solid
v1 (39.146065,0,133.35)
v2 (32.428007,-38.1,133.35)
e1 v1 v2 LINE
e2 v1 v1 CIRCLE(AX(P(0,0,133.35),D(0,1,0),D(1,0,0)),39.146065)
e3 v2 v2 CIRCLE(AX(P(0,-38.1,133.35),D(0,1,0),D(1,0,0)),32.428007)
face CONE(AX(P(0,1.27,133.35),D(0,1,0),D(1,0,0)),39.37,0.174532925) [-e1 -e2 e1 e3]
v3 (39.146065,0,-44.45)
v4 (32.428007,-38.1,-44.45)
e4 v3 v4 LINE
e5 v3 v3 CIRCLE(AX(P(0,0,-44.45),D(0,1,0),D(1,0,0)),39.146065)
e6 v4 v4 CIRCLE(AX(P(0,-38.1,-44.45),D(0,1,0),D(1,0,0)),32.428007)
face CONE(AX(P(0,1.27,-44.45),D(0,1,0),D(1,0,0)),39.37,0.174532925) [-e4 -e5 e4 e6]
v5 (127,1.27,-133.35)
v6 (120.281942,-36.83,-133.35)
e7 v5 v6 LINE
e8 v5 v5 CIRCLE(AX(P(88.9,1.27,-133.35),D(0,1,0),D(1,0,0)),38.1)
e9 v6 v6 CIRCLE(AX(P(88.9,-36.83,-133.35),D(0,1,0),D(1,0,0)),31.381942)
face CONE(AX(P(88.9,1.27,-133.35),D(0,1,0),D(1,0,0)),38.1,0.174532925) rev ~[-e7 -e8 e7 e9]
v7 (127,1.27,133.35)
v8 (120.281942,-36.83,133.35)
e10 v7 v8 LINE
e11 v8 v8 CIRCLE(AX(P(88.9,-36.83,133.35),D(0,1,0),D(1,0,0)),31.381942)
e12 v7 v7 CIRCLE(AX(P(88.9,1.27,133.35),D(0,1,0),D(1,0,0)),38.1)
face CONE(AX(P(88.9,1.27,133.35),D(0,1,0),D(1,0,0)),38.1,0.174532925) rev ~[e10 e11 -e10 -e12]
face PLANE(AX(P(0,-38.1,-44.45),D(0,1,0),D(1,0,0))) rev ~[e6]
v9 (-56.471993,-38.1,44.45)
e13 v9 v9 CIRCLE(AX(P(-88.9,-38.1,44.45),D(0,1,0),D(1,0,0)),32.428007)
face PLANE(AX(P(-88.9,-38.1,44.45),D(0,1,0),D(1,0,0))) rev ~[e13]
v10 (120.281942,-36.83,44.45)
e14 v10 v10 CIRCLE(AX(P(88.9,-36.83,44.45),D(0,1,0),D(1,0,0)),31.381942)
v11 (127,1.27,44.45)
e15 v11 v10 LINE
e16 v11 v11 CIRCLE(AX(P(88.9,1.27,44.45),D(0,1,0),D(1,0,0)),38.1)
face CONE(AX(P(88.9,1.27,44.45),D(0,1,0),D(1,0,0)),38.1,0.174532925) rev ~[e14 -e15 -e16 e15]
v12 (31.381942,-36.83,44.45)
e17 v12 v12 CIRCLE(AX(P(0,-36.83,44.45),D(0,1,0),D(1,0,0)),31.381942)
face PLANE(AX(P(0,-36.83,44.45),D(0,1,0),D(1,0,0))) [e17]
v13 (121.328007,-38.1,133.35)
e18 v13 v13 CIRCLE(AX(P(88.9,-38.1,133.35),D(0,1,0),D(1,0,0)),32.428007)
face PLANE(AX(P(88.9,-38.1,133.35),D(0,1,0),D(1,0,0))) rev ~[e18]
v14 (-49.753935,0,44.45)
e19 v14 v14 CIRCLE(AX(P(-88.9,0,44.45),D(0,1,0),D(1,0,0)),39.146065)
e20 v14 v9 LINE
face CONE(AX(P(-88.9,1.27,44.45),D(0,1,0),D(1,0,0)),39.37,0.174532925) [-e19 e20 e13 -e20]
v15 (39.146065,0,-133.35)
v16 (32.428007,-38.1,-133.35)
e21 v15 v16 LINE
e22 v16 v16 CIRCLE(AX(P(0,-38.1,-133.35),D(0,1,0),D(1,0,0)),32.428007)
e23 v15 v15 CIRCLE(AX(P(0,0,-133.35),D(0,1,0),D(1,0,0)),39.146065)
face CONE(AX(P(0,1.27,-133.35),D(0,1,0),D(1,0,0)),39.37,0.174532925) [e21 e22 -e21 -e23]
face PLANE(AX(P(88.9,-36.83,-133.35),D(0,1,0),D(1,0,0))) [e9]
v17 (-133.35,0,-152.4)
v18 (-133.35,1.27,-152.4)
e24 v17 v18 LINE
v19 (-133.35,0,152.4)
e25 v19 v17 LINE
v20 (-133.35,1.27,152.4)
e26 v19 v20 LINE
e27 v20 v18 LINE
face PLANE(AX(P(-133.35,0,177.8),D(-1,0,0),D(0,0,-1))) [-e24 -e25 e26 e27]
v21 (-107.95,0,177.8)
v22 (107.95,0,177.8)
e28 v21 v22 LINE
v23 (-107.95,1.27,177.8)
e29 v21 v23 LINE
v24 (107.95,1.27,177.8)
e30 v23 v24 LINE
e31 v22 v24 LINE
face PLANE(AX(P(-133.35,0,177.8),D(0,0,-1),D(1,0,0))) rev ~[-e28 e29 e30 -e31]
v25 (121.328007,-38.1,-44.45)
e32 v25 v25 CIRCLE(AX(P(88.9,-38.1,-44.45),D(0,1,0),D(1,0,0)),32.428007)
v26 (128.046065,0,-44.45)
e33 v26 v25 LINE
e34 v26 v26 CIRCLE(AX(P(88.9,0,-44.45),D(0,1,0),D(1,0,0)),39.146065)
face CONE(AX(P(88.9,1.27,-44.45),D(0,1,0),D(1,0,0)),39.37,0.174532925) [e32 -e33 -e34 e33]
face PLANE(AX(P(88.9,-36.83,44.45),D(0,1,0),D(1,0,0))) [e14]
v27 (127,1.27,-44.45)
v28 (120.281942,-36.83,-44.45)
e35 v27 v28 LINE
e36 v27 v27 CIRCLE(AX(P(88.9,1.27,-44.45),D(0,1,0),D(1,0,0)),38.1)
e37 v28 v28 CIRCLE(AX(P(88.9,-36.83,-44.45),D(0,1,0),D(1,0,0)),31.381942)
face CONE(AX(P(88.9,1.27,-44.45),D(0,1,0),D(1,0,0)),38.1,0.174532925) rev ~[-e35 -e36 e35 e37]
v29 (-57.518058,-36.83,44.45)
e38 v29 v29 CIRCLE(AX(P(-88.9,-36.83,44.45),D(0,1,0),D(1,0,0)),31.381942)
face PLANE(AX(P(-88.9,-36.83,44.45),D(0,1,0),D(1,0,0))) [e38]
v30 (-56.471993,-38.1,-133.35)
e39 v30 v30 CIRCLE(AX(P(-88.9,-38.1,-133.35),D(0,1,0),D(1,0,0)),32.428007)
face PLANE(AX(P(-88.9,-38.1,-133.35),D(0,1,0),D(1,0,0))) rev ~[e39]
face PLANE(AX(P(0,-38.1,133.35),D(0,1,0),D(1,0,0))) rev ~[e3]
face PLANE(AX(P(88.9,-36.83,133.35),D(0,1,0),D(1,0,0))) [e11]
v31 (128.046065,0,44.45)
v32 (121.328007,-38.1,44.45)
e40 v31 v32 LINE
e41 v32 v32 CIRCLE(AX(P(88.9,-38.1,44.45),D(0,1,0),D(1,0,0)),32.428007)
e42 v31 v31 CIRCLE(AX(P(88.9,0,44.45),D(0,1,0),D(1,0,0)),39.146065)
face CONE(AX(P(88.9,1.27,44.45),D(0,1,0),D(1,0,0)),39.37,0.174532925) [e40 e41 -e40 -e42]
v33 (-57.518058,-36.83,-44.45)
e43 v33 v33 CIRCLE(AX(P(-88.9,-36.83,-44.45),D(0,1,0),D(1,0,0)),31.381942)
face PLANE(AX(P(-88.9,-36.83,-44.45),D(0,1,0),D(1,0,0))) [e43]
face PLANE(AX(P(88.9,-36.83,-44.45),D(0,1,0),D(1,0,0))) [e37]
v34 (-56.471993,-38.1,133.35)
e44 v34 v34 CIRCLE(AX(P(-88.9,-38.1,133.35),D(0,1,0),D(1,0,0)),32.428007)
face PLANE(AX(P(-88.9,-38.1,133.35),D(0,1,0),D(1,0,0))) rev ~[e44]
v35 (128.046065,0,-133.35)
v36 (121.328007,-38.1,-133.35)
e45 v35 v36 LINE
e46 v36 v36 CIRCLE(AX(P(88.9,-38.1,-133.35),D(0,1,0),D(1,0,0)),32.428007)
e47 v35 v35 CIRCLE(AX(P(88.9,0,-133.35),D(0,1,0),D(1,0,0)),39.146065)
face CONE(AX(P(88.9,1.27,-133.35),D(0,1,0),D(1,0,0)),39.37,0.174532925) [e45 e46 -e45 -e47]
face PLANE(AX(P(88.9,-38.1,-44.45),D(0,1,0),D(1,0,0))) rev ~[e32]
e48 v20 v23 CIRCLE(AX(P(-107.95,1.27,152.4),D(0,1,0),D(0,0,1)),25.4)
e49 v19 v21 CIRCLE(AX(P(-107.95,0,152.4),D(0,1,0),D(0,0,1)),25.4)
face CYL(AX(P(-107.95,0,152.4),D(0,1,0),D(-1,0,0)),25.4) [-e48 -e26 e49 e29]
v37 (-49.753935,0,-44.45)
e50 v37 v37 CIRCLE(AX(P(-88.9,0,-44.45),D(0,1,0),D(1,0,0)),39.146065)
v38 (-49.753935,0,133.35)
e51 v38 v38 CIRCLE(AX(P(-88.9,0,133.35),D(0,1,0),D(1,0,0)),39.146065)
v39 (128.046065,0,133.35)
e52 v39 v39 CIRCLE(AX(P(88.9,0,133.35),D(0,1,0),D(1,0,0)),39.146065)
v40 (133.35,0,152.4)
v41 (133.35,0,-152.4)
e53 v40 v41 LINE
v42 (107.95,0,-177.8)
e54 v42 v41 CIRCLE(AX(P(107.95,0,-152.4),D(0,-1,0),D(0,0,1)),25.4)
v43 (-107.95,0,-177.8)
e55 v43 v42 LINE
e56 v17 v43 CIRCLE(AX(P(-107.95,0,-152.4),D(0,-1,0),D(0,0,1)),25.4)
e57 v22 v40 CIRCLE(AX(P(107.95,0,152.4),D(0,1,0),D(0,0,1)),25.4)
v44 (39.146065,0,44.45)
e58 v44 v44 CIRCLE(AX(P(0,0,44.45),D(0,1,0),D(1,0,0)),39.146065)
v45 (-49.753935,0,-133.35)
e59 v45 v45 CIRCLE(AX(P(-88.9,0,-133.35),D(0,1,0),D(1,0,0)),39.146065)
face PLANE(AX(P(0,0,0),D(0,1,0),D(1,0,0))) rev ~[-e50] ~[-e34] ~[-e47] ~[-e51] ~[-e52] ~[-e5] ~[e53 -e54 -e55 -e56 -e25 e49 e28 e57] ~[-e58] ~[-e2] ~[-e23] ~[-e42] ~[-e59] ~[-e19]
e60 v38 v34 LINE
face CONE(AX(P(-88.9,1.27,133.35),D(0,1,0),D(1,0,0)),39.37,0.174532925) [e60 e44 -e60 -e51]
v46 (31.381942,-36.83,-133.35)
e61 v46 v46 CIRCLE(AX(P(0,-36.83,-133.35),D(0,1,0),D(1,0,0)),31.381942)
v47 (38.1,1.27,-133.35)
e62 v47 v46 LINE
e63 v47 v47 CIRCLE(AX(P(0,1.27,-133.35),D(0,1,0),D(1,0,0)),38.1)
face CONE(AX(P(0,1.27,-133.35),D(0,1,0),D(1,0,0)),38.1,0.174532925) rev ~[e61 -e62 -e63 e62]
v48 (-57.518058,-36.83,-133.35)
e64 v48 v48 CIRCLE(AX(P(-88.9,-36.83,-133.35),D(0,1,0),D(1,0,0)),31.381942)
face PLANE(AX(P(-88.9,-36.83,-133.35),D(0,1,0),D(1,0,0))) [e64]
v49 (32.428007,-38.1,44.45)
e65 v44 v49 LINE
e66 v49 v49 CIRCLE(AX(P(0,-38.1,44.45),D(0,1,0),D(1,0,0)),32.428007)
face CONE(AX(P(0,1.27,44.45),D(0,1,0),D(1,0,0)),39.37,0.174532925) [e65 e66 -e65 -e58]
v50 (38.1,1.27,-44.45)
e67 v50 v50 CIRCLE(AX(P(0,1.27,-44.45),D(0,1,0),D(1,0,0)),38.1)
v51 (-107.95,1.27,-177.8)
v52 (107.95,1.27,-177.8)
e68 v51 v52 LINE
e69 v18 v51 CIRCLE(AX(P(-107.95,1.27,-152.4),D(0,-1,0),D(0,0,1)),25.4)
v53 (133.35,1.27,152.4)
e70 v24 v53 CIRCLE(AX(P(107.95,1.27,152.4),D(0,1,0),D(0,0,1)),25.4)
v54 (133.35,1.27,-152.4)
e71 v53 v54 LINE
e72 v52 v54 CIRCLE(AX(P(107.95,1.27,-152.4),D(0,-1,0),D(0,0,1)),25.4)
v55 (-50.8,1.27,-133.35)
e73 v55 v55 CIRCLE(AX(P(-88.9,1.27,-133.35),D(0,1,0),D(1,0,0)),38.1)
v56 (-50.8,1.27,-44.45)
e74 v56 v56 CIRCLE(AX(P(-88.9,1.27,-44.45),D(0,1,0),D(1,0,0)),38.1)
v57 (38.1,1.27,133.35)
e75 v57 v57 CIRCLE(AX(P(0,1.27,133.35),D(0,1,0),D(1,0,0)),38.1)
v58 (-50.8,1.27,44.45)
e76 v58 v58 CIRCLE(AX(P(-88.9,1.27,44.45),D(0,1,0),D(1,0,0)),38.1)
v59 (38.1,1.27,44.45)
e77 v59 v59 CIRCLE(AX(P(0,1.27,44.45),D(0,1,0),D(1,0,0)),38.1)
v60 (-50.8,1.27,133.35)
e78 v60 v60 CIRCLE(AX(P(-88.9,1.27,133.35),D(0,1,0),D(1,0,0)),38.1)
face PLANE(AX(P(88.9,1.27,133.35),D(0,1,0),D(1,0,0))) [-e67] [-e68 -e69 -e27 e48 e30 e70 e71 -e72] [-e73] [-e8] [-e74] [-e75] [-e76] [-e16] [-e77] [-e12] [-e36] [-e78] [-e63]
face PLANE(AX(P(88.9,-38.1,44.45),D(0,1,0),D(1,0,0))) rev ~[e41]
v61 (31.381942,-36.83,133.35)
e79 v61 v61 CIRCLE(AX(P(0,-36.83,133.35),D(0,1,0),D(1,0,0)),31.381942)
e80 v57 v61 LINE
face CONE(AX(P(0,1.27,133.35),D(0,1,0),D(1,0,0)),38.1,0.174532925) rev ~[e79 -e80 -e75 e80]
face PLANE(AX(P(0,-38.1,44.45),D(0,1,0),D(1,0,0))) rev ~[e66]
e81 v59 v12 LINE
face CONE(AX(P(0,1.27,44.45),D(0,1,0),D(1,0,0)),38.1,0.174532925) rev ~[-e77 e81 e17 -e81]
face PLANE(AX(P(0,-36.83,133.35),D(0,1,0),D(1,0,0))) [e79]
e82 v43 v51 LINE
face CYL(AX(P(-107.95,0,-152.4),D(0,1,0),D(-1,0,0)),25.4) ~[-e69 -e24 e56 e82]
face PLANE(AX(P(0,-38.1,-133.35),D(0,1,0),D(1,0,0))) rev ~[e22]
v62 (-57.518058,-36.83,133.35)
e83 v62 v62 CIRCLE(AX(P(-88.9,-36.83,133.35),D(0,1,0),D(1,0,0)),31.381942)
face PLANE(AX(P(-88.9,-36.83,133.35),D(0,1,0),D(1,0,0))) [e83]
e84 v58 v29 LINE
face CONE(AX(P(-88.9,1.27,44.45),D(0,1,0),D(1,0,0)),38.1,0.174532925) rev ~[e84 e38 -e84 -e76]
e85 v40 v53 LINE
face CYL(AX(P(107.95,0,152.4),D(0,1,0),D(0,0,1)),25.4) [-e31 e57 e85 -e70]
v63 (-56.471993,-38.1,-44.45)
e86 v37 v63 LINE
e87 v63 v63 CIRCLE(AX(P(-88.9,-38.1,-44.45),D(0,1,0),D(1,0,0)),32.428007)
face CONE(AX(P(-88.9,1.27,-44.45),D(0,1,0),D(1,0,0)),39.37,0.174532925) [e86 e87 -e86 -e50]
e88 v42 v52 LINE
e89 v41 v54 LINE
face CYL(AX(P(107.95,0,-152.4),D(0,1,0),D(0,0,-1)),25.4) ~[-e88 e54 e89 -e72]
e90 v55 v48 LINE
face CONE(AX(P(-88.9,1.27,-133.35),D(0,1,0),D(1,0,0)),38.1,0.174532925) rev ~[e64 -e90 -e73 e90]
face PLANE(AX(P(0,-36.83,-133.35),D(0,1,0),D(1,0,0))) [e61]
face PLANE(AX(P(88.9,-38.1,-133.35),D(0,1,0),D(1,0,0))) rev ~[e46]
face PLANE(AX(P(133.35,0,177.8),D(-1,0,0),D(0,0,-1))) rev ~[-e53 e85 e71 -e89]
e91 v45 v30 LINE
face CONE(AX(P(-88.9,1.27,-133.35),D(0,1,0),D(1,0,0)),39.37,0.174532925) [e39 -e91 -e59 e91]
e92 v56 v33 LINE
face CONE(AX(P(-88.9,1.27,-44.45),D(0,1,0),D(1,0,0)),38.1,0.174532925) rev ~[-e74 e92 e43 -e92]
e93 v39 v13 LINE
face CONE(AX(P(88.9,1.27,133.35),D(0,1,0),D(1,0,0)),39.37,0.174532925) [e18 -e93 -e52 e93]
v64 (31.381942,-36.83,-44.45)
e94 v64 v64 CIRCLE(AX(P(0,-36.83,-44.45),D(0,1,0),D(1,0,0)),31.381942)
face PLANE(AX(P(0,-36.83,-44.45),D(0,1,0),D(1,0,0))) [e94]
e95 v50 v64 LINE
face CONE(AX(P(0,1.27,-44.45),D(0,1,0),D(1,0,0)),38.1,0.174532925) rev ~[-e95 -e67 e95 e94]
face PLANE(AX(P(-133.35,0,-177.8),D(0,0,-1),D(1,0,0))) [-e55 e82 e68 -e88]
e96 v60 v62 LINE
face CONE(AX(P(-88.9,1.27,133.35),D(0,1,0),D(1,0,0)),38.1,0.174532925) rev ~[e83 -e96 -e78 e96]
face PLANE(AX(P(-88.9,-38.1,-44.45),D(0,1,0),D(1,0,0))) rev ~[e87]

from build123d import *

# Parameters (mm, degrees)
SKETCH1_W                  = 266.7
SKETCH1_H                  = 355.6
BOSS_EXTRUDE1_DEPTH        = 1.27
SKETCH2_R                  = 39.37
BOSS_EXTRUDE2_DEPTH        = 39.37
BOSS_EXTRUDE2_DRAFT        = -10
SKETCH3_R                  = 38.1
CUT_EXTRUDE1_DEPTH         = 38.1
CUT_EXTRUDE1_DRAFT         = -10
LPATTERN1_COPY_1_SKETCH_R  = 39.37
LPATTERN1_COPY_1_DEPTH     = 39.37
LPATTERN1_COPY_1_DRAFT     = -10
LPATTERN1_COPY_2_SKETCH_R  = 39.37
LPATTERN1_COPY_2_DEPTH     = 39.37
LPATTERN1_COPY_2_DRAFT     = -10
LPATTERN1_COPY_3_SKETCH_R  = 39.37
LPATTERN1_COPY_3_DEPTH     = 39.37
LPATTERN1_COPY_3_DRAFT     = -10
LPATTERN1_COPY_4_SKETCH_R  = 39.37
LPATTERN1_COPY_4_DEPTH     = 39.37
LPATTERN1_COPY_4_DRAFT     = -10
LPATTERN1_COPY_5_SKETCH_R  = 39.37
LPATTERN1_COPY_5_DEPTH     = 39.37
LPATTERN1_COPY_5_DRAFT     = -10
LPATTERN1_COPY_6_SKETCH_R  = 39.37
LPATTERN1_COPY_6_DEPTH     = 39.37
LPATTERN1_COPY_6_DRAFT     = -10
LPATTERN1_COPY_7_SKETCH_R  = 39.37
LPATTERN1_COPY_7_DEPTH     = 39.37
LPATTERN1_COPY_7_DRAFT     = -10
LPATTERN1_COPY_8_SKETCH_R  = 39.37
LPATTERN1_COPY_8_DEPTH     = 39.37
LPATTERN1_COPY_8_DRAFT     = -10
LPATTERN1_COPY_9_SKETCH_R  = 39.37
LPATTERN1_COPY_9_DEPTH     = 39.37
LPATTERN1_COPY_9_DRAFT     = -10
LPATTERN1_COPY_10_SKETCH_R = 39.37
LPATTERN1_COPY_10_DEPTH    = 39.37
LPATTERN1_COPY_10_DRAFT    = -10
LPATTERN1_COPY_11_SKETCH_R = 39.37
LPATTERN1_COPY_11_DEPTH    = 39.37
LPATTERN1_COPY_11_DRAFT    = -10
LPATTERN1_COPY_12_SKETCH_R = 38.1
LPATTERN1_COPY_12_DEPTH    = 38.1
LPATTERN1_COPY_12_DRAFT    = -10
LPATTERN1_COPY_13_SKETCH_R = 38.1
LPATTERN1_COPY_13_DEPTH    = 38.1
LPATTERN1_COPY_13_DRAFT    = -10
LPATTERN1_COPY_14_SKETCH_R = 38.1
LPATTERN1_COPY_14_DEPTH    = 38.1
LPATTERN1_COPY_14_DRAFT    = -10
LPATTERN1_COPY_15_SKETCH_R = 38.1
LPATTERN1_COPY_15_DEPTH    = 38.1
LPATTERN1_COPY_15_DRAFT    = -10
LPATTERN1_COPY_16_SKETCH_R = 38.1
LPATTERN1_COPY_16_DEPTH    = 38.1
LPATTERN1_COPY_16_DRAFT    = -10
LPATTERN1_COPY_17_SKETCH_R = 38.1
LPATTERN1_COPY_17_DEPTH    = 38.1
LPATTERN1_COPY_17_DRAFT    = -10
LPATTERN1_COPY_18_SKETCH_R = 38.1
LPATTERN1_COPY_18_DEPTH    = 38.1
LPATTERN1_COPY_18_DRAFT    = -10
LPATTERN1_COPY_19_SKETCH_R = 38.1
LPATTERN1_COPY_19_DEPTH    = 38.1
LPATTERN1_COPY_19_DRAFT    = -10
LPATTERN1_COPY_20_SKETCH_R = 38.1
LPATTERN1_COPY_20_DEPTH    = 38.1
LPATTERN1_COPY_20_DRAFT    = -10
LPATTERN1_COPY_21_SKETCH_R = 38.1
LPATTERN1_COPY_21_DEPTH    = 38.1
LPATTERN1_COPY_21_DRAFT    = -10
LPATTERN1_COPY_22_SKETCH_R = 38.1
LPATTERN1_COPY_22_DEPTH    = 38.1
LPATTERN1_COPY_22_DRAFT    = -10
FILLET1_R                  = 25.4


with BuildPart() as part:
    # Sketch1 → Boss-Extrude1 (new body)
    with BuildSketch(Plane(origin=(0, 0, 0), x_dir=(1, 0, 0), z_dir=(0, 1, 0))):
        Rectangle(SKETCH1_W, SKETCH1_H)
    extrude(amount=BOSS_EXTRUDE1_DEPTH)


with BuildPart() as boss_extrude2_tool:
    # Sketch2 → Boss-Extrude2 (with draft: the straight prism first)
    with BuildSketch(Plane(origin=(0, 1.27, 0), x_dir=(1, 0, 0), z_dir=(0, 1, 0))):
        with Locations((-88.9, 133.35)):
            Circle(SKETCH2_R)
    extrude(amount=-BOSS_EXTRUDE2_DEPTH)
    # Boss-Extrude2: the draft: its side faces are tilted about the plane it starts from
    boss_extrude2_sides = [boss_extrude2_tool.faces().sort_by_distance(p)[0] for p in [
        (-128.27, -18.415, -133.35),
    ]]
    draft(boss_extrude2_sides, Plane(origin=(0, 1.27, 0), x_dir=(1, 0, 0), z_dir=(0, 1, 0)), BOSS_EXTRUDE2_DRAFT)


with BuildPart() as part_1:
    add(part.part)

    # Boss-Extrude2: add boss_extrude2_tool
    add(boss_extrude2_tool.part)


with BuildPart() as cut_extrude1_tool:
    # Sketch3 → Cut-Extrude1 (with draft: the straight prism first)
    with BuildSketch(Plane(origin=(0, 1.27, 0), x_dir=(1, 0, 0), z_dir=(0, 1, 0))):
        with Locations((-88.9, 133.35)):
            Circle(SKETCH3_R)
    extrude(amount=-CUT_EXTRUDE1_DEPTH)
    # Cut-Extrude1: the draft: its side faces are tilted about the plane it starts from
    cut_extrude1_sides = [cut_extrude1_tool.faces().sort_by_distance(p)[0] for p in [
        (-127, -17.78, -133.35),
    ]]
    draft(cut_extrude1_sides, Plane(origin=(0, 1.27, 0), x_dir=(1, 0, 0), z_dir=(0, 1, 0)), CUT_EXTRUDE1_DRAFT)


with BuildPart() as part_2:
    add(part_1.part)

    # Cut-Extrude1: cut by cut_extrude1_tool
    add(cut_extrude1_tool.part, mode=Mode.SUBTRACT)


with BuildPart() as lpattern1_copy_1_tool:
    # LPattern1 copy 1 sketch → LPattern1 copy 1 (with draft: the straight prism first)
    with BuildSketch(Plane(origin=(0, 1.27, 88.9), x_dir=(1, 0, 0), z_dir=(0, 1, 0))):
        with Locations((-88.9, 133.35)):
            Circle(LPATTERN1_COPY_1_SKETCH_R)
    extrude(amount=-LPATTERN1_COPY_1_DEPTH)
    # LPattern1 copy 1: the draft: its side faces are tilted about the plane it starts from
    lpattern1_copy_1_sides = [lpattern1_copy_1_tool.faces().sort_by_distance(p)[0] for p in [
        (-128.27, -18.415, -44.45),
    ]]
    draft(lpattern1_copy_1_sides, Plane(origin=(0, 1.27, 88.9), x_dir=(1, 0, 0), z_dir=(0, 1, 0)), LPATTERN1_COPY_1_DRAFT)


with BuildPart() as part_3:
    add(part_2.part)

    # LPattern1 copy 1: add lpattern1_copy_1_tool
    add(lpattern1_copy_1_tool.part)


with BuildPart() as lpattern1_copy_2_tool:
    # LPattern1 copy 2 sketch → LPattern1 copy 2 (with draft: the straight prism first)
    with BuildSketch(Plane(origin=(0, 1.27, 177.8), x_dir=(1, 0, 0), z_dir=(0, 1, 0))):
        with Locations((-88.9, 133.35)):
            Circle(LPATTERN1_COPY_2_SKETCH_R)
    extrude(amount=-LPATTERN1_COPY_2_DEPTH)
    # LPattern1 copy 2: the draft: its side faces are tilted about the plane it starts from
    lpattern1_copy_2_sides = [lpattern1_copy_2_tool.faces().sort_by_distance(p)[0] for p in [
        (-128.27, -18.415, 44.45),
    ]]
    draft(lpattern1_copy_2_sides, Plane(origin=(0, 1.27, 177.8), x_dir=(1, 0, 0), z_dir=(0, 1, 0)), LPATTERN1_COPY_2_DRAFT)


with BuildPart() as part_4:
    add(part_3.part)

    # LPattern1 copy 2: add lpattern1_copy_2_tool
    add(lpattern1_copy_2_tool.part)


with BuildPart() as lpattern1_copy_3_tool:
    # LPattern1 copy 3 sketch → LPattern1 copy 3 (with draft: the straight prism first)
    with BuildSketch(Plane(origin=(0, 1.27, 266.7), x_dir=(1, 0, 0), z_dir=(0, 1, 0))):
        with Locations((-88.9, 133.35)):
            Circle(LPATTERN1_COPY_3_SKETCH_R)
    extrude(amount=-LPATTERN1_COPY_3_DEPTH)
    # LPattern1 copy 3: the draft: its side faces are tilted about the plane it starts from
    lpattern1_copy_3_sides = [lpattern1_copy_3_tool.faces().sort_by_distance(p)[0] for p in [
        (-128.27, -18.415, 133.35),
    ]]
    draft(lpattern1_copy_3_sides, Plane(origin=(0, 1.27, 266.7), x_dir=(1, 0, 0), z_dir=(0, 1, 0)), LPATTERN1_COPY_3_DRAFT)


with BuildPart() as part_5:
    add(part_4.part)

    # LPattern1 copy 3: add lpattern1_copy_3_tool
    add(lpattern1_copy_3_tool.part)


with BuildPart() as lpattern1_copy_4_tool:
    # LPattern1 copy 4 sketch → LPattern1 copy 4 (with draft: the straight prism first)
    with BuildSketch(Plane(origin=(88.9, 1.27, 0), x_dir=(1, 0, 0), z_dir=(0, 1, 0))):
        with Locations((-88.9, 133.35)):
            Circle(LPATTERN1_COPY_4_SKETCH_R)
    extrude(amount=-LPATTERN1_COPY_4_DEPTH)
    # LPattern1 copy 4: the draft: its side faces are tilted about the plane it starts from
    lpattern1_copy_4_sides = [lpattern1_copy_4_tool.faces().sort_by_distance(p)[0] for p in [
        (-39.37, -18.415, -133.35),
    ]]
    draft(lpattern1_copy_4_sides, Plane(origin=(88.9, 1.27, 0), x_dir=(1, 0, 0), z_dir=(0, 1, 0)), LPATTERN1_COPY_4_DRAFT)


with BuildPart() as part_6:
    add(part_5.part)

    # LPattern1 copy 4: add lpattern1_copy_4_tool
    add(lpattern1_copy_4_tool.part)


with BuildPart() as lpattern1_copy_5_tool:
    # LPattern1 copy 5 sketch → LPattern1 copy 5 (with draft: the straight prism first)
    with BuildSketch(Plane(origin=(88.9, 1.27, 88.9), x_dir=(1, 0, 0), z_dir=(0, 1, 0))):
        with Locations((-88.9, 133.35)):
            Circle(LPATTERN1_COPY_5_SKETCH_R)
    extrude(amount=-LPATTERN1_COPY_5_DEPTH)
    # LPattern1 copy 5: the draft: its side faces are tilted about the plane it starts from
    lpattern1_copy_5_sides = [lpattern1_copy_5_tool.faces().sort_by_distance(p)[0] for p in [
        (-39.37, -18.415, -44.45),
    ]]
    draft(lpattern1_copy_5_sides, Plane(origin=(88.9, 1.27, 88.9), x_dir=(1, 0, 0), z_dir=(0, 1, 0)), LPATTERN1_COPY_5_DRAFT)


with BuildPart() as part_7:
    add(part_6.part)

    # LPattern1 copy 5: add lpattern1_copy_5_tool
    add(lpattern1_copy_5_tool.part)


with BuildPart() as lpattern1_copy_6_tool:
    # LPattern1 copy 6 sketch → LPattern1 copy 6 (with draft: the straight prism first)
    with BuildSketch(Plane(origin=(88.9, 1.27, 177.8), x_dir=(1, 0, 0), z_dir=(0, 1, 0))):
        with Locations((-88.9, 133.35)):
            Circle(LPATTERN1_COPY_6_SKETCH_R)
    extrude(amount=-LPATTERN1_COPY_6_DEPTH)
    # LPattern1 copy 6: the draft: its side faces are tilted about the plane it starts from
    lpattern1_copy_6_sides = [lpattern1_copy_6_tool.faces().sort_by_distance(p)[0] for p in [
        (-39.37, -18.415, 44.45),
    ]]
    draft(lpattern1_copy_6_sides, Plane(origin=(88.9, 1.27, 177.8), x_dir=(1, 0, 0), z_dir=(0, 1, 0)), LPATTERN1_COPY_6_DRAFT)


with BuildPart() as part_8:
    add(part_7.part)

    # LPattern1 copy 6: add lpattern1_copy_6_tool
    add(lpattern1_copy_6_tool.part)


with BuildPart() as lpattern1_copy_7_tool:
    # LPattern1 copy 7 sketch → LPattern1 copy 7 (with draft: the straight prism first)
    with BuildSketch(Plane(origin=(88.9, 1.27, 266.7), x_dir=(1, 0, 0), z_dir=(0, 1, 0))):
        with Locations((-88.9, 133.35)):
            Circle(LPATTERN1_COPY_7_SKETCH_R)
    extrude(amount=-LPATTERN1_COPY_7_DEPTH)
    # LPattern1 copy 7: the draft: its side faces are tilted about the plane it starts from
    lpattern1_copy_7_sides = [lpattern1_copy_7_tool.faces().sort_by_distance(p)[0] for p in [
        (-39.37, -18.415, 133.35),
    ]]
    draft(lpattern1_copy_7_sides, Plane(origin=(88.9, 1.27, 266.7), x_dir=(1, 0, 0), z_dir=(0, 1, 0)), LPATTERN1_COPY_7_DRAFT)


with BuildPart() as part_9:
    add(part_8.part)

    # LPattern1 copy 7: add lpattern1_copy_7_tool
    add(lpattern1_copy_7_tool.part)


with BuildPart() as lpattern1_copy_8_tool:
    # LPattern1 copy 8 sketch → LPattern1 copy 8 (with draft: the straight prism first)
    with BuildSketch(Plane(origin=(177.8, 1.27, 0), x_dir=(1, 0, 0), z_dir=(0, 1, 0))):
        with Locations((-88.9, 133.35)):
            Circle(LPATTERN1_COPY_8_SKETCH_R)
    extrude(amount=-LPATTERN1_COPY_8_DEPTH)
    # LPattern1 copy 8: the draft: its side faces are tilted about the plane it starts from
    lpattern1_copy_8_sides = [lpattern1_copy_8_tool.faces().sort_by_distance(p)[0] for p in [
        (49.53, -18.415, -133.35),
    ]]
    draft(lpattern1_copy_8_sides, Plane(origin=(177.8, 1.27, 0), x_dir=(1, 0, 0), z_dir=(0, 1, 0)), LPATTERN1_COPY_8_DRAFT)


with BuildPart() as part_10:
    add(part_9.part)

    # LPattern1 copy 8: add lpattern1_copy_8_tool
    add(lpattern1_copy_8_tool.part)


with BuildPart() as lpattern1_copy_9_tool:
    # LPattern1 copy 9 sketch → LPattern1 copy 9 (with draft: the straight prism first)
    with BuildSketch(Plane(origin=(177.8, 1.27, 88.9), x_dir=(1, 0, 0), z_dir=(0, 1, 0))):
        with Locations((-88.9, 133.35)):
            Circle(LPATTERN1_COPY_9_SKETCH_R)
    extrude(amount=-LPATTERN1_COPY_9_DEPTH)
    # LPattern1 copy 9: the draft: its side faces are tilted about the plane it starts from
    lpattern1_copy_9_sides = [lpattern1_copy_9_tool.faces().sort_by_distance(p)[0] for p in [
        (49.53, -18.415, -44.45),
    ]]
    draft(lpattern1_copy_9_sides, Plane(origin=(177.8, 1.27, 88.9), x_dir=(1, 0, 0), z_dir=(0, 1, 0)), LPATTERN1_COPY_9_DRAFT)


with BuildPart() as part_11:
    add(part_10.part)

    # LPattern1 copy 9: add lpattern1_copy_9_tool
    add(lpattern1_copy_9_tool.part)


with BuildPart() as lpattern1_copy_10_tool:
    # LPattern1 copy 10 sketch → LPattern1 copy 10 (with draft: the straight prism first)
    with BuildSketch(Plane(origin=(177.8, 1.27, 177.8), x_dir=(1, 0, 0), z_dir=(0, 1, 0))):
        with Locations((-88.9, 133.35)):
            Circle(LPATTERN1_COPY_10_SKETCH_R)
    extrude(amount=-LPATTERN1_COPY_10_DEPTH)
    # LPattern1 copy 10: the draft: its side faces are tilted about the plane it starts from
    lpattern1_copy_10_sides = [lpattern1_copy_10_tool.faces().sort_by_distance(p)[0] for p in [
        (49.53, -18.415, 44.45),
    ]]
    draft(lpattern1_copy_10_sides, Plane(origin=(177.8, 1.27, 177.8), x_dir=(1, 0, 0), z_dir=(0, 1, 0)), LPATTERN1_COPY_10_DRAFT)


with BuildPart() as part_12:
    add(part_11.part)

    # LPattern1 copy 10: add lpattern1_copy_10_tool
    add(lpattern1_copy_10_tool.part)


with BuildPart() as lpattern1_copy_11_tool:
    # LPattern1 copy 11 sketch → LPattern1 copy 11 (with draft: the straight prism first)
    with BuildSketch(Plane(origin=(177.8, 1.27, 266.7), x_dir=(1, 0, 0), z_dir=(0, 1, 0))):
        with Locations((-88.9, 133.35)):
            Circle(LPATTERN1_COPY_11_SKETCH_R)
    extrude(amount=-LPATTERN1_COPY_11_DEPTH)
    # LPattern1 copy 11: the draft: its side faces are tilted about the plane it starts from
    lpattern1_copy_11_sides = [lpattern1_copy_11_tool.faces().sort_by_distance(p)[0] for p in [
        (49.53, -18.415, 133.35),
    ]]
    draft(lpattern1_copy_11_sides, Plane(origin=(177.8, 1.27, 266.7), x_dir=(1, 0, 0), z_dir=(0, 1, 0)), LPATTERN1_COPY_11_DRAFT)


with BuildPart() as part_13:
    add(part_12.part)

    # LPattern1 copy 11: add lpattern1_copy_11_tool
    add(lpattern1_copy_11_tool.part)


with BuildPart() as lpattern1_copy_12_tool:
    # LPattern1 copy 12 sketch → LPattern1 copy 12 (with draft: the straight prism first)
    with BuildSketch(Plane(origin=(0, 1.27, 88.9), x_dir=(1, 0, 0), z_dir=(0, 1, 0))):
        with Locations((-88.9, 133.35)):
            Circle(LPATTERN1_COPY_12_SKETCH_R)
    extrude(amount=-LPATTERN1_COPY_12_DEPTH)
    # LPattern1 copy 12: the draft: its side faces are tilted about the plane it starts from
    lpattern1_copy_12_sides = [lpattern1_copy_12_tool.faces().sort_by_distance(p)[0] for p in [
        (-127, -17.78, -44.45),
    ]]
    draft(lpattern1_copy_12_sides, Plane(origin=(0, 1.27, 88.9), x_dir=(1, 0, 0), z_dir=(0, 1, 0)), LPATTERN1_COPY_12_DRAFT)


with BuildPart() as part_14:
    add(part_13.part)

    # LPattern1 copy 12: cut by lpattern1_copy_12_tool
    add(lpattern1_copy_12_tool.part, mode=Mode.SUBTRACT)


with BuildPart() as lpattern1_copy_13_tool:
    # LPattern1 copy 13 sketch → LPattern1 copy 13 (with draft: the straight prism first)
    with BuildSketch(Plane(origin=(0, 1.27, 177.8), x_dir=(1, 0, 0), z_dir=(0, 1, 0))):
        with Locations((-88.9, 133.35)):
            Circle(LPATTERN1_COPY_13_SKETCH_R)
    extrude(amount=-LPATTERN1_COPY_13_DEPTH)
    # LPattern1 copy 13: the draft: its side faces are tilted about the plane it starts from
    lpattern1_copy_13_sides = [lpattern1_copy_13_tool.faces().sort_by_distance(p)[0] for p in [
        (-127, -17.78, 44.45),
    ]]
    draft(lpattern1_copy_13_sides, Plane(origin=(0, 1.27, 177.8), x_dir=(1, 0, 0), z_dir=(0, 1, 0)), LPATTERN1_COPY_13_DRAFT)


with BuildPart() as part_15:
    add(part_14.part)

    # LPattern1 copy 13: cut by lpattern1_copy_13_tool
    add(lpattern1_copy_13_tool.part, mode=Mode.SUBTRACT)


with BuildPart() as lpattern1_copy_14_tool:
    # LPattern1 copy 14 sketch → LPattern1 copy 14 (with draft: the straight prism first)
    with BuildSketch(Plane(origin=(0, 1.27, 266.7), x_dir=(1, 0, 0), z_dir=(0, 1, 0))):
        with Locations((-88.9, 133.35)):
            Circle(LPATTERN1_COPY_14_SKETCH_R)
    extrude(amount=-LPATTERN1_COPY_14_DEPTH)
    # LPattern1 copy 14: the draft: its side faces are tilted about the plane it starts from
    lpattern1_copy_14_sides = [lpattern1_copy_14_tool.faces().sort_by_distance(p)[0] for p in [
        (-127, -17.78, 133.35),
    ]]
    draft(lpattern1_copy_14_sides, Plane(origin=(0, 1.27, 266.7), x_dir=(1, 0, 0), z_dir=(0, 1, 0)), LPATTERN1_COPY_14_DRAFT)


with BuildPart() as part_16:
    add(part_15.part)

    # LPattern1 copy 14: cut by lpattern1_copy_14_tool
    add(lpattern1_copy_14_tool.part, mode=Mode.SUBTRACT)


with BuildPart() as lpattern1_copy_15_tool:
    # LPattern1 copy 15 sketch → LPattern1 copy 15 (with draft: the straight prism first)
    with BuildSketch(Plane(origin=(88.9, 1.27, 0), x_dir=(1, 0, 0), z_dir=(0, 1, 0))):
        with Locations((-88.9, 133.35)):
            Circle(LPATTERN1_COPY_15_SKETCH_R)
    extrude(amount=-LPATTERN1_COPY_15_DEPTH)
    # LPattern1 copy 15: the draft: its side faces are tilted about the plane it starts from
    lpattern1_copy_15_sides = [lpattern1_copy_15_tool.faces().sort_by_distance(p)[0] for p in [
        (-38.1, -17.78, -133.35),
    ]]
    draft(lpattern1_copy_15_sides, Plane(origin=(88.9, 1.27, 0), x_dir=(1, 0, 0), z_dir=(0, 1, 0)), LPATTERN1_COPY_15_DRAFT)


with BuildPart() as part_17:
    add(part_16.part)

    # LPattern1 copy 15: cut by lpattern1_copy_15_tool
    add(lpattern1_copy_15_tool.part, mode=Mode.SUBTRACT)


with BuildPart() as lpattern1_copy_16_tool:
    # LPattern1 copy 16 sketch → LPattern1 copy 16 (with draft: the straight prism first)
    with BuildSketch(Plane(origin=(88.9, 1.27, 88.9), x_dir=(1, 0, 0), z_dir=(0, 1, 0))):
        with Locations((-88.9, 133.35)):
            Circle(LPATTERN1_COPY_16_SKETCH_R)
    extrude(amount=-LPATTERN1_COPY_16_DEPTH)
    # LPattern1 copy 16: the draft: its side faces are tilted about the plane it starts from
    lpattern1_copy_16_sides = [lpattern1_copy_16_tool.faces().sort_by_distance(p)[0] for p in [
        (-38.1, -17.78, -44.45),
    ]]
    draft(lpattern1_copy_16_sides, Plane(origin=(88.9, 1.27, 88.9), x_dir=(1, 0, 0), z_dir=(0, 1, 0)), LPATTERN1_COPY_16_DRAFT)


with BuildPart() as part_18:
    add(part_17.part)

    # LPattern1 copy 16: cut by lpattern1_copy_16_tool
    add(lpattern1_copy_16_tool.part, mode=Mode.SUBTRACT)


with BuildPart() as lpattern1_copy_17_tool:
    # LPattern1 copy 17 sketch → LPattern1 copy 17 (with draft: the straight prism first)
    with BuildSketch(Plane(origin=(88.9, 1.27, 177.8), x_dir=(1, 0, 0), z_dir=(0, 1, 0))):
        with Locations((-88.9, 133.35)):
            Circle(LPATTERN1_COPY_17_SKETCH_R)
    extrude(amount=-LPATTERN1_COPY_17_DEPTH)
    # LPattern1 copy 17: the draft: its side faces are tilted about the plane it starts from
    lpattern1_copy_17_sides = [lpattern1_copy_17_tool.faces().sort_by_distance(p)[0] for p in [
        (-38.1, -17.78, 44.45),
    ]]
    draft(lpattern1_copy_17_sides, Plane(origin=(88.9, 1.27, 177.8), x_dir=(1, 0, 0), z_dir=(0, 1, 0)), LPATTERN1_COPY_17_DRAFT)


with BuildPart() as part_19:
    add(part_18.part)

    # LPattern1 copy 17: cut by lpattern1_copy_17_tool
    add(lpattern1_copy_17_tool.part, mode=Mode.SUBTRACT)


with BuildPart() as lpattern1_copy_18_tool:
    # LPattern1 copy 18 sketch → LPattern1 copy 18 (with draft: the straight prism first)
    with BuildSketch(Plane(origin=(88.9, 1.27, 266.7), x_dir=(1, 0, 0), z_dir=(0, 1, 0))):
        with Locations((-88.9, 133.35)):
            Circle(LPATTERN1_COPY_18_SKETCH_R)
    extrude(amount=-LPATTERN1_COPY_18_DEPTH)
    # LPattern1 copy 18: the draft: its side faces are tilted about the plane it starts from
    lpattern1_copy_18_sides = [lpattern1_copy_18_tool.faces().sort_by_distance(p)[0] for p in [
        (-38.1, -17.78, 133.35),
    ]]
    draft(lpattern1_copy_18_sides, Plane(origin=(88.9, 1.27, 266.7), x_dir=(1, 0, 0), z_dir=(0, 1, 0)), LPATTERN1_COPY_18_DRAFT)


with BuildPart() as part_20:
    add(part_19.part)

    # LPattern1 copy 18: cut by lpattern1_copy_18_tool
    add(lpattern1_copy_18_tool.part, mode=Mode.SUBTRACT)


with BuildPart() as lpattern1_copy_19_tool:
    # LPattern1 copy 19 sketch → LPattern1 copy 19 (with draft: the straight prism first)
    with BuildSketch(Plane(origin=(177.8, 1.27, 0), x_dir=(1, 0, 0), z_dir=(0, 1, 0))):
        with Locations((-88.9, 133.35)):
            Circle(LPATTERN1_COPY_19_SKETCH_R)
    extrude(amount=-LPATTERN1_COPY_19_DEPTH)
    # LPattern1 copy 19: the draft: its side faces are tilted about the plane it starts from
    lpattern1_copy_19_sides = [lpattern1_copy_19_tool.faces().sort_by_distance(p)[0] for p in [
        (50.8, -17.78, -133.35),
    ]]
    draft(lpattern1_copy_19_sides, Plane(origin=(177.8, 1.27, 0), x_dir=(1, 0, 0), z_dir=(0, 1, 0)), LPATTERN1_COPY_19_DRAFT)


with BuildPart() as part_21:
    add(part_20.part)

    # LPattern1 copy 19: cut by lpattern1_copy_19_tool
    add(lpattern1_copy_19_tool.part, mode=Mode.SUBTRACT)


with BuildPart() as lpattern1_copy_20_tool:
    # LPattern1 copy 20 sketch → LPattern1 copy 20 (with draft: the straight prism first)
    with BuildSketch(Plane(origin=(177.8, 1.27, 88.9), x_dir=(1, 0, 0), z_dir=(0, 1, 0))):
        with Locations((-88.9, 133.35)):
            Circle(LPATTERN1_COPY_20_SKETCH_R)
    extrude(amount=-LPATTERN1_COPY_20_DEPTH)
    # LPattern1 copy 20: the draft: its side faces are tilted about the plane it starts from
    lpattern1_copy_20_sides = [lpattern1_copy_20_tool.faces().sort_by_distance(p)[0] for p in [
        (50.8, -17.78, -44.45),
    ]]
    draft(lpattern1_copy_20_sides, Plane(origin=(177.8, 1.27, 88.9), x_dir=(1, 0, 0), z_dir=(0, 1, 0)), LPATTERN1_COPY_20_DRAFT)


with BuildPart() as part_22:
    add(part_21.part)

    # LPattern1 copy 20: cut by lpattern1_copy_20_tool
    add(lpattern1_copy_20_tool.part, mode=Mode.SUBTRACT)


with BuildPart() as lpattern1_copy_21_tool:
    # LPattern1 copy 21 sketch → LPattern1 copy 21 (with draft: the straight prism first)
    with BuildSketch(Plane(origin=(177.8, 1.27, 177.8), x_dir=(1, 0, 0), z_dir=(0, 1, 0))):
        with Locations((-88.9, 133.35)):
            Circle(LPATTERN1_COPY_21_SKETCH_R)
    extrude(amount=-LPATTERN1_COPY_21_DEPTH)
    # LPattern1 copy 21: the draft: its side faces are tilted about the plane it starts from
    lpattern1_copy_21_sides = [lpattern1_copy_21_tool.faces().sort_by_distance(p)[0] for p in [
        (50.8, -17.78, 44.45),
    ]]
    draft(lpattern1_copy_21_sides, Plane(origin=(177.8, 1.27, 177.8), x_dir=(1, 0, 0), z_dir=(0, 1, 0)), LPATTERN1_COPY_21_DRAFT)


with BuildPart() as part_23:
    add(part_22.part)

    # LPattern1 copy 21: cut by lpattern1_copy_21_tool
    add(lpattern1_copy_21_tool.part, mode=Mode.SUBTRACT)


with BuildPart() as lpattern1_copy_22_tool:
    # LPattern1 copy 22 sketch → LPattern1 copy 22 (with draft: the straight prism first)
    with BuildSketch(Plane(origin=(177.8, 1.27, 266.7), x_dir=(1, 0, 0), z_dir=(0, 1, 0))):
        with Locations((-88.9, 133.35)):
            Circle(LPATTERN1_COPY_22_SKETCH_R)
    extrude(amount=-LPATTERN1_COPY_22_DEPTH)
    # LPattern1 copy 22: the draft: its side faces are tilted about the plane it starts from
    lpattern1_copy_22_sides = [lpattern1_copy_22_tool.faces().sort_by_distance(p)[0] for p in [
        (50.8, -17.78, 133.35),
    ]]
    draft(lpattern1_copy_22_sides, Plane(origin=(177.8, 1.27, 266.7), x_dir=(1, 0, 0), z_dir=(0, 1, 0)), LPATTERN1_COPY_22_DRAFT)


with BuildPart() as part_24:
    add(part_23.part)

    # LPattern1 copy 22: cut by lpattern1_copy_22_tool
    add(lpattern1_copy_22_tool.part, mode=Mode.SUBTRACT)

    # Fillet1
    fillet1_edges = [part_24.edges().sort_by_distance(p)[0] for p in [
        (133.35, 0.635, 177.8),
        (-133.35, 0.635, 177.8),
        (-133.35, 0.635, -177.8),
        (133.35, 0.635, -177.8),
    ]]
    fillet(fillet1_edges, radius=FILLET1_R)


solid = part_24.part
